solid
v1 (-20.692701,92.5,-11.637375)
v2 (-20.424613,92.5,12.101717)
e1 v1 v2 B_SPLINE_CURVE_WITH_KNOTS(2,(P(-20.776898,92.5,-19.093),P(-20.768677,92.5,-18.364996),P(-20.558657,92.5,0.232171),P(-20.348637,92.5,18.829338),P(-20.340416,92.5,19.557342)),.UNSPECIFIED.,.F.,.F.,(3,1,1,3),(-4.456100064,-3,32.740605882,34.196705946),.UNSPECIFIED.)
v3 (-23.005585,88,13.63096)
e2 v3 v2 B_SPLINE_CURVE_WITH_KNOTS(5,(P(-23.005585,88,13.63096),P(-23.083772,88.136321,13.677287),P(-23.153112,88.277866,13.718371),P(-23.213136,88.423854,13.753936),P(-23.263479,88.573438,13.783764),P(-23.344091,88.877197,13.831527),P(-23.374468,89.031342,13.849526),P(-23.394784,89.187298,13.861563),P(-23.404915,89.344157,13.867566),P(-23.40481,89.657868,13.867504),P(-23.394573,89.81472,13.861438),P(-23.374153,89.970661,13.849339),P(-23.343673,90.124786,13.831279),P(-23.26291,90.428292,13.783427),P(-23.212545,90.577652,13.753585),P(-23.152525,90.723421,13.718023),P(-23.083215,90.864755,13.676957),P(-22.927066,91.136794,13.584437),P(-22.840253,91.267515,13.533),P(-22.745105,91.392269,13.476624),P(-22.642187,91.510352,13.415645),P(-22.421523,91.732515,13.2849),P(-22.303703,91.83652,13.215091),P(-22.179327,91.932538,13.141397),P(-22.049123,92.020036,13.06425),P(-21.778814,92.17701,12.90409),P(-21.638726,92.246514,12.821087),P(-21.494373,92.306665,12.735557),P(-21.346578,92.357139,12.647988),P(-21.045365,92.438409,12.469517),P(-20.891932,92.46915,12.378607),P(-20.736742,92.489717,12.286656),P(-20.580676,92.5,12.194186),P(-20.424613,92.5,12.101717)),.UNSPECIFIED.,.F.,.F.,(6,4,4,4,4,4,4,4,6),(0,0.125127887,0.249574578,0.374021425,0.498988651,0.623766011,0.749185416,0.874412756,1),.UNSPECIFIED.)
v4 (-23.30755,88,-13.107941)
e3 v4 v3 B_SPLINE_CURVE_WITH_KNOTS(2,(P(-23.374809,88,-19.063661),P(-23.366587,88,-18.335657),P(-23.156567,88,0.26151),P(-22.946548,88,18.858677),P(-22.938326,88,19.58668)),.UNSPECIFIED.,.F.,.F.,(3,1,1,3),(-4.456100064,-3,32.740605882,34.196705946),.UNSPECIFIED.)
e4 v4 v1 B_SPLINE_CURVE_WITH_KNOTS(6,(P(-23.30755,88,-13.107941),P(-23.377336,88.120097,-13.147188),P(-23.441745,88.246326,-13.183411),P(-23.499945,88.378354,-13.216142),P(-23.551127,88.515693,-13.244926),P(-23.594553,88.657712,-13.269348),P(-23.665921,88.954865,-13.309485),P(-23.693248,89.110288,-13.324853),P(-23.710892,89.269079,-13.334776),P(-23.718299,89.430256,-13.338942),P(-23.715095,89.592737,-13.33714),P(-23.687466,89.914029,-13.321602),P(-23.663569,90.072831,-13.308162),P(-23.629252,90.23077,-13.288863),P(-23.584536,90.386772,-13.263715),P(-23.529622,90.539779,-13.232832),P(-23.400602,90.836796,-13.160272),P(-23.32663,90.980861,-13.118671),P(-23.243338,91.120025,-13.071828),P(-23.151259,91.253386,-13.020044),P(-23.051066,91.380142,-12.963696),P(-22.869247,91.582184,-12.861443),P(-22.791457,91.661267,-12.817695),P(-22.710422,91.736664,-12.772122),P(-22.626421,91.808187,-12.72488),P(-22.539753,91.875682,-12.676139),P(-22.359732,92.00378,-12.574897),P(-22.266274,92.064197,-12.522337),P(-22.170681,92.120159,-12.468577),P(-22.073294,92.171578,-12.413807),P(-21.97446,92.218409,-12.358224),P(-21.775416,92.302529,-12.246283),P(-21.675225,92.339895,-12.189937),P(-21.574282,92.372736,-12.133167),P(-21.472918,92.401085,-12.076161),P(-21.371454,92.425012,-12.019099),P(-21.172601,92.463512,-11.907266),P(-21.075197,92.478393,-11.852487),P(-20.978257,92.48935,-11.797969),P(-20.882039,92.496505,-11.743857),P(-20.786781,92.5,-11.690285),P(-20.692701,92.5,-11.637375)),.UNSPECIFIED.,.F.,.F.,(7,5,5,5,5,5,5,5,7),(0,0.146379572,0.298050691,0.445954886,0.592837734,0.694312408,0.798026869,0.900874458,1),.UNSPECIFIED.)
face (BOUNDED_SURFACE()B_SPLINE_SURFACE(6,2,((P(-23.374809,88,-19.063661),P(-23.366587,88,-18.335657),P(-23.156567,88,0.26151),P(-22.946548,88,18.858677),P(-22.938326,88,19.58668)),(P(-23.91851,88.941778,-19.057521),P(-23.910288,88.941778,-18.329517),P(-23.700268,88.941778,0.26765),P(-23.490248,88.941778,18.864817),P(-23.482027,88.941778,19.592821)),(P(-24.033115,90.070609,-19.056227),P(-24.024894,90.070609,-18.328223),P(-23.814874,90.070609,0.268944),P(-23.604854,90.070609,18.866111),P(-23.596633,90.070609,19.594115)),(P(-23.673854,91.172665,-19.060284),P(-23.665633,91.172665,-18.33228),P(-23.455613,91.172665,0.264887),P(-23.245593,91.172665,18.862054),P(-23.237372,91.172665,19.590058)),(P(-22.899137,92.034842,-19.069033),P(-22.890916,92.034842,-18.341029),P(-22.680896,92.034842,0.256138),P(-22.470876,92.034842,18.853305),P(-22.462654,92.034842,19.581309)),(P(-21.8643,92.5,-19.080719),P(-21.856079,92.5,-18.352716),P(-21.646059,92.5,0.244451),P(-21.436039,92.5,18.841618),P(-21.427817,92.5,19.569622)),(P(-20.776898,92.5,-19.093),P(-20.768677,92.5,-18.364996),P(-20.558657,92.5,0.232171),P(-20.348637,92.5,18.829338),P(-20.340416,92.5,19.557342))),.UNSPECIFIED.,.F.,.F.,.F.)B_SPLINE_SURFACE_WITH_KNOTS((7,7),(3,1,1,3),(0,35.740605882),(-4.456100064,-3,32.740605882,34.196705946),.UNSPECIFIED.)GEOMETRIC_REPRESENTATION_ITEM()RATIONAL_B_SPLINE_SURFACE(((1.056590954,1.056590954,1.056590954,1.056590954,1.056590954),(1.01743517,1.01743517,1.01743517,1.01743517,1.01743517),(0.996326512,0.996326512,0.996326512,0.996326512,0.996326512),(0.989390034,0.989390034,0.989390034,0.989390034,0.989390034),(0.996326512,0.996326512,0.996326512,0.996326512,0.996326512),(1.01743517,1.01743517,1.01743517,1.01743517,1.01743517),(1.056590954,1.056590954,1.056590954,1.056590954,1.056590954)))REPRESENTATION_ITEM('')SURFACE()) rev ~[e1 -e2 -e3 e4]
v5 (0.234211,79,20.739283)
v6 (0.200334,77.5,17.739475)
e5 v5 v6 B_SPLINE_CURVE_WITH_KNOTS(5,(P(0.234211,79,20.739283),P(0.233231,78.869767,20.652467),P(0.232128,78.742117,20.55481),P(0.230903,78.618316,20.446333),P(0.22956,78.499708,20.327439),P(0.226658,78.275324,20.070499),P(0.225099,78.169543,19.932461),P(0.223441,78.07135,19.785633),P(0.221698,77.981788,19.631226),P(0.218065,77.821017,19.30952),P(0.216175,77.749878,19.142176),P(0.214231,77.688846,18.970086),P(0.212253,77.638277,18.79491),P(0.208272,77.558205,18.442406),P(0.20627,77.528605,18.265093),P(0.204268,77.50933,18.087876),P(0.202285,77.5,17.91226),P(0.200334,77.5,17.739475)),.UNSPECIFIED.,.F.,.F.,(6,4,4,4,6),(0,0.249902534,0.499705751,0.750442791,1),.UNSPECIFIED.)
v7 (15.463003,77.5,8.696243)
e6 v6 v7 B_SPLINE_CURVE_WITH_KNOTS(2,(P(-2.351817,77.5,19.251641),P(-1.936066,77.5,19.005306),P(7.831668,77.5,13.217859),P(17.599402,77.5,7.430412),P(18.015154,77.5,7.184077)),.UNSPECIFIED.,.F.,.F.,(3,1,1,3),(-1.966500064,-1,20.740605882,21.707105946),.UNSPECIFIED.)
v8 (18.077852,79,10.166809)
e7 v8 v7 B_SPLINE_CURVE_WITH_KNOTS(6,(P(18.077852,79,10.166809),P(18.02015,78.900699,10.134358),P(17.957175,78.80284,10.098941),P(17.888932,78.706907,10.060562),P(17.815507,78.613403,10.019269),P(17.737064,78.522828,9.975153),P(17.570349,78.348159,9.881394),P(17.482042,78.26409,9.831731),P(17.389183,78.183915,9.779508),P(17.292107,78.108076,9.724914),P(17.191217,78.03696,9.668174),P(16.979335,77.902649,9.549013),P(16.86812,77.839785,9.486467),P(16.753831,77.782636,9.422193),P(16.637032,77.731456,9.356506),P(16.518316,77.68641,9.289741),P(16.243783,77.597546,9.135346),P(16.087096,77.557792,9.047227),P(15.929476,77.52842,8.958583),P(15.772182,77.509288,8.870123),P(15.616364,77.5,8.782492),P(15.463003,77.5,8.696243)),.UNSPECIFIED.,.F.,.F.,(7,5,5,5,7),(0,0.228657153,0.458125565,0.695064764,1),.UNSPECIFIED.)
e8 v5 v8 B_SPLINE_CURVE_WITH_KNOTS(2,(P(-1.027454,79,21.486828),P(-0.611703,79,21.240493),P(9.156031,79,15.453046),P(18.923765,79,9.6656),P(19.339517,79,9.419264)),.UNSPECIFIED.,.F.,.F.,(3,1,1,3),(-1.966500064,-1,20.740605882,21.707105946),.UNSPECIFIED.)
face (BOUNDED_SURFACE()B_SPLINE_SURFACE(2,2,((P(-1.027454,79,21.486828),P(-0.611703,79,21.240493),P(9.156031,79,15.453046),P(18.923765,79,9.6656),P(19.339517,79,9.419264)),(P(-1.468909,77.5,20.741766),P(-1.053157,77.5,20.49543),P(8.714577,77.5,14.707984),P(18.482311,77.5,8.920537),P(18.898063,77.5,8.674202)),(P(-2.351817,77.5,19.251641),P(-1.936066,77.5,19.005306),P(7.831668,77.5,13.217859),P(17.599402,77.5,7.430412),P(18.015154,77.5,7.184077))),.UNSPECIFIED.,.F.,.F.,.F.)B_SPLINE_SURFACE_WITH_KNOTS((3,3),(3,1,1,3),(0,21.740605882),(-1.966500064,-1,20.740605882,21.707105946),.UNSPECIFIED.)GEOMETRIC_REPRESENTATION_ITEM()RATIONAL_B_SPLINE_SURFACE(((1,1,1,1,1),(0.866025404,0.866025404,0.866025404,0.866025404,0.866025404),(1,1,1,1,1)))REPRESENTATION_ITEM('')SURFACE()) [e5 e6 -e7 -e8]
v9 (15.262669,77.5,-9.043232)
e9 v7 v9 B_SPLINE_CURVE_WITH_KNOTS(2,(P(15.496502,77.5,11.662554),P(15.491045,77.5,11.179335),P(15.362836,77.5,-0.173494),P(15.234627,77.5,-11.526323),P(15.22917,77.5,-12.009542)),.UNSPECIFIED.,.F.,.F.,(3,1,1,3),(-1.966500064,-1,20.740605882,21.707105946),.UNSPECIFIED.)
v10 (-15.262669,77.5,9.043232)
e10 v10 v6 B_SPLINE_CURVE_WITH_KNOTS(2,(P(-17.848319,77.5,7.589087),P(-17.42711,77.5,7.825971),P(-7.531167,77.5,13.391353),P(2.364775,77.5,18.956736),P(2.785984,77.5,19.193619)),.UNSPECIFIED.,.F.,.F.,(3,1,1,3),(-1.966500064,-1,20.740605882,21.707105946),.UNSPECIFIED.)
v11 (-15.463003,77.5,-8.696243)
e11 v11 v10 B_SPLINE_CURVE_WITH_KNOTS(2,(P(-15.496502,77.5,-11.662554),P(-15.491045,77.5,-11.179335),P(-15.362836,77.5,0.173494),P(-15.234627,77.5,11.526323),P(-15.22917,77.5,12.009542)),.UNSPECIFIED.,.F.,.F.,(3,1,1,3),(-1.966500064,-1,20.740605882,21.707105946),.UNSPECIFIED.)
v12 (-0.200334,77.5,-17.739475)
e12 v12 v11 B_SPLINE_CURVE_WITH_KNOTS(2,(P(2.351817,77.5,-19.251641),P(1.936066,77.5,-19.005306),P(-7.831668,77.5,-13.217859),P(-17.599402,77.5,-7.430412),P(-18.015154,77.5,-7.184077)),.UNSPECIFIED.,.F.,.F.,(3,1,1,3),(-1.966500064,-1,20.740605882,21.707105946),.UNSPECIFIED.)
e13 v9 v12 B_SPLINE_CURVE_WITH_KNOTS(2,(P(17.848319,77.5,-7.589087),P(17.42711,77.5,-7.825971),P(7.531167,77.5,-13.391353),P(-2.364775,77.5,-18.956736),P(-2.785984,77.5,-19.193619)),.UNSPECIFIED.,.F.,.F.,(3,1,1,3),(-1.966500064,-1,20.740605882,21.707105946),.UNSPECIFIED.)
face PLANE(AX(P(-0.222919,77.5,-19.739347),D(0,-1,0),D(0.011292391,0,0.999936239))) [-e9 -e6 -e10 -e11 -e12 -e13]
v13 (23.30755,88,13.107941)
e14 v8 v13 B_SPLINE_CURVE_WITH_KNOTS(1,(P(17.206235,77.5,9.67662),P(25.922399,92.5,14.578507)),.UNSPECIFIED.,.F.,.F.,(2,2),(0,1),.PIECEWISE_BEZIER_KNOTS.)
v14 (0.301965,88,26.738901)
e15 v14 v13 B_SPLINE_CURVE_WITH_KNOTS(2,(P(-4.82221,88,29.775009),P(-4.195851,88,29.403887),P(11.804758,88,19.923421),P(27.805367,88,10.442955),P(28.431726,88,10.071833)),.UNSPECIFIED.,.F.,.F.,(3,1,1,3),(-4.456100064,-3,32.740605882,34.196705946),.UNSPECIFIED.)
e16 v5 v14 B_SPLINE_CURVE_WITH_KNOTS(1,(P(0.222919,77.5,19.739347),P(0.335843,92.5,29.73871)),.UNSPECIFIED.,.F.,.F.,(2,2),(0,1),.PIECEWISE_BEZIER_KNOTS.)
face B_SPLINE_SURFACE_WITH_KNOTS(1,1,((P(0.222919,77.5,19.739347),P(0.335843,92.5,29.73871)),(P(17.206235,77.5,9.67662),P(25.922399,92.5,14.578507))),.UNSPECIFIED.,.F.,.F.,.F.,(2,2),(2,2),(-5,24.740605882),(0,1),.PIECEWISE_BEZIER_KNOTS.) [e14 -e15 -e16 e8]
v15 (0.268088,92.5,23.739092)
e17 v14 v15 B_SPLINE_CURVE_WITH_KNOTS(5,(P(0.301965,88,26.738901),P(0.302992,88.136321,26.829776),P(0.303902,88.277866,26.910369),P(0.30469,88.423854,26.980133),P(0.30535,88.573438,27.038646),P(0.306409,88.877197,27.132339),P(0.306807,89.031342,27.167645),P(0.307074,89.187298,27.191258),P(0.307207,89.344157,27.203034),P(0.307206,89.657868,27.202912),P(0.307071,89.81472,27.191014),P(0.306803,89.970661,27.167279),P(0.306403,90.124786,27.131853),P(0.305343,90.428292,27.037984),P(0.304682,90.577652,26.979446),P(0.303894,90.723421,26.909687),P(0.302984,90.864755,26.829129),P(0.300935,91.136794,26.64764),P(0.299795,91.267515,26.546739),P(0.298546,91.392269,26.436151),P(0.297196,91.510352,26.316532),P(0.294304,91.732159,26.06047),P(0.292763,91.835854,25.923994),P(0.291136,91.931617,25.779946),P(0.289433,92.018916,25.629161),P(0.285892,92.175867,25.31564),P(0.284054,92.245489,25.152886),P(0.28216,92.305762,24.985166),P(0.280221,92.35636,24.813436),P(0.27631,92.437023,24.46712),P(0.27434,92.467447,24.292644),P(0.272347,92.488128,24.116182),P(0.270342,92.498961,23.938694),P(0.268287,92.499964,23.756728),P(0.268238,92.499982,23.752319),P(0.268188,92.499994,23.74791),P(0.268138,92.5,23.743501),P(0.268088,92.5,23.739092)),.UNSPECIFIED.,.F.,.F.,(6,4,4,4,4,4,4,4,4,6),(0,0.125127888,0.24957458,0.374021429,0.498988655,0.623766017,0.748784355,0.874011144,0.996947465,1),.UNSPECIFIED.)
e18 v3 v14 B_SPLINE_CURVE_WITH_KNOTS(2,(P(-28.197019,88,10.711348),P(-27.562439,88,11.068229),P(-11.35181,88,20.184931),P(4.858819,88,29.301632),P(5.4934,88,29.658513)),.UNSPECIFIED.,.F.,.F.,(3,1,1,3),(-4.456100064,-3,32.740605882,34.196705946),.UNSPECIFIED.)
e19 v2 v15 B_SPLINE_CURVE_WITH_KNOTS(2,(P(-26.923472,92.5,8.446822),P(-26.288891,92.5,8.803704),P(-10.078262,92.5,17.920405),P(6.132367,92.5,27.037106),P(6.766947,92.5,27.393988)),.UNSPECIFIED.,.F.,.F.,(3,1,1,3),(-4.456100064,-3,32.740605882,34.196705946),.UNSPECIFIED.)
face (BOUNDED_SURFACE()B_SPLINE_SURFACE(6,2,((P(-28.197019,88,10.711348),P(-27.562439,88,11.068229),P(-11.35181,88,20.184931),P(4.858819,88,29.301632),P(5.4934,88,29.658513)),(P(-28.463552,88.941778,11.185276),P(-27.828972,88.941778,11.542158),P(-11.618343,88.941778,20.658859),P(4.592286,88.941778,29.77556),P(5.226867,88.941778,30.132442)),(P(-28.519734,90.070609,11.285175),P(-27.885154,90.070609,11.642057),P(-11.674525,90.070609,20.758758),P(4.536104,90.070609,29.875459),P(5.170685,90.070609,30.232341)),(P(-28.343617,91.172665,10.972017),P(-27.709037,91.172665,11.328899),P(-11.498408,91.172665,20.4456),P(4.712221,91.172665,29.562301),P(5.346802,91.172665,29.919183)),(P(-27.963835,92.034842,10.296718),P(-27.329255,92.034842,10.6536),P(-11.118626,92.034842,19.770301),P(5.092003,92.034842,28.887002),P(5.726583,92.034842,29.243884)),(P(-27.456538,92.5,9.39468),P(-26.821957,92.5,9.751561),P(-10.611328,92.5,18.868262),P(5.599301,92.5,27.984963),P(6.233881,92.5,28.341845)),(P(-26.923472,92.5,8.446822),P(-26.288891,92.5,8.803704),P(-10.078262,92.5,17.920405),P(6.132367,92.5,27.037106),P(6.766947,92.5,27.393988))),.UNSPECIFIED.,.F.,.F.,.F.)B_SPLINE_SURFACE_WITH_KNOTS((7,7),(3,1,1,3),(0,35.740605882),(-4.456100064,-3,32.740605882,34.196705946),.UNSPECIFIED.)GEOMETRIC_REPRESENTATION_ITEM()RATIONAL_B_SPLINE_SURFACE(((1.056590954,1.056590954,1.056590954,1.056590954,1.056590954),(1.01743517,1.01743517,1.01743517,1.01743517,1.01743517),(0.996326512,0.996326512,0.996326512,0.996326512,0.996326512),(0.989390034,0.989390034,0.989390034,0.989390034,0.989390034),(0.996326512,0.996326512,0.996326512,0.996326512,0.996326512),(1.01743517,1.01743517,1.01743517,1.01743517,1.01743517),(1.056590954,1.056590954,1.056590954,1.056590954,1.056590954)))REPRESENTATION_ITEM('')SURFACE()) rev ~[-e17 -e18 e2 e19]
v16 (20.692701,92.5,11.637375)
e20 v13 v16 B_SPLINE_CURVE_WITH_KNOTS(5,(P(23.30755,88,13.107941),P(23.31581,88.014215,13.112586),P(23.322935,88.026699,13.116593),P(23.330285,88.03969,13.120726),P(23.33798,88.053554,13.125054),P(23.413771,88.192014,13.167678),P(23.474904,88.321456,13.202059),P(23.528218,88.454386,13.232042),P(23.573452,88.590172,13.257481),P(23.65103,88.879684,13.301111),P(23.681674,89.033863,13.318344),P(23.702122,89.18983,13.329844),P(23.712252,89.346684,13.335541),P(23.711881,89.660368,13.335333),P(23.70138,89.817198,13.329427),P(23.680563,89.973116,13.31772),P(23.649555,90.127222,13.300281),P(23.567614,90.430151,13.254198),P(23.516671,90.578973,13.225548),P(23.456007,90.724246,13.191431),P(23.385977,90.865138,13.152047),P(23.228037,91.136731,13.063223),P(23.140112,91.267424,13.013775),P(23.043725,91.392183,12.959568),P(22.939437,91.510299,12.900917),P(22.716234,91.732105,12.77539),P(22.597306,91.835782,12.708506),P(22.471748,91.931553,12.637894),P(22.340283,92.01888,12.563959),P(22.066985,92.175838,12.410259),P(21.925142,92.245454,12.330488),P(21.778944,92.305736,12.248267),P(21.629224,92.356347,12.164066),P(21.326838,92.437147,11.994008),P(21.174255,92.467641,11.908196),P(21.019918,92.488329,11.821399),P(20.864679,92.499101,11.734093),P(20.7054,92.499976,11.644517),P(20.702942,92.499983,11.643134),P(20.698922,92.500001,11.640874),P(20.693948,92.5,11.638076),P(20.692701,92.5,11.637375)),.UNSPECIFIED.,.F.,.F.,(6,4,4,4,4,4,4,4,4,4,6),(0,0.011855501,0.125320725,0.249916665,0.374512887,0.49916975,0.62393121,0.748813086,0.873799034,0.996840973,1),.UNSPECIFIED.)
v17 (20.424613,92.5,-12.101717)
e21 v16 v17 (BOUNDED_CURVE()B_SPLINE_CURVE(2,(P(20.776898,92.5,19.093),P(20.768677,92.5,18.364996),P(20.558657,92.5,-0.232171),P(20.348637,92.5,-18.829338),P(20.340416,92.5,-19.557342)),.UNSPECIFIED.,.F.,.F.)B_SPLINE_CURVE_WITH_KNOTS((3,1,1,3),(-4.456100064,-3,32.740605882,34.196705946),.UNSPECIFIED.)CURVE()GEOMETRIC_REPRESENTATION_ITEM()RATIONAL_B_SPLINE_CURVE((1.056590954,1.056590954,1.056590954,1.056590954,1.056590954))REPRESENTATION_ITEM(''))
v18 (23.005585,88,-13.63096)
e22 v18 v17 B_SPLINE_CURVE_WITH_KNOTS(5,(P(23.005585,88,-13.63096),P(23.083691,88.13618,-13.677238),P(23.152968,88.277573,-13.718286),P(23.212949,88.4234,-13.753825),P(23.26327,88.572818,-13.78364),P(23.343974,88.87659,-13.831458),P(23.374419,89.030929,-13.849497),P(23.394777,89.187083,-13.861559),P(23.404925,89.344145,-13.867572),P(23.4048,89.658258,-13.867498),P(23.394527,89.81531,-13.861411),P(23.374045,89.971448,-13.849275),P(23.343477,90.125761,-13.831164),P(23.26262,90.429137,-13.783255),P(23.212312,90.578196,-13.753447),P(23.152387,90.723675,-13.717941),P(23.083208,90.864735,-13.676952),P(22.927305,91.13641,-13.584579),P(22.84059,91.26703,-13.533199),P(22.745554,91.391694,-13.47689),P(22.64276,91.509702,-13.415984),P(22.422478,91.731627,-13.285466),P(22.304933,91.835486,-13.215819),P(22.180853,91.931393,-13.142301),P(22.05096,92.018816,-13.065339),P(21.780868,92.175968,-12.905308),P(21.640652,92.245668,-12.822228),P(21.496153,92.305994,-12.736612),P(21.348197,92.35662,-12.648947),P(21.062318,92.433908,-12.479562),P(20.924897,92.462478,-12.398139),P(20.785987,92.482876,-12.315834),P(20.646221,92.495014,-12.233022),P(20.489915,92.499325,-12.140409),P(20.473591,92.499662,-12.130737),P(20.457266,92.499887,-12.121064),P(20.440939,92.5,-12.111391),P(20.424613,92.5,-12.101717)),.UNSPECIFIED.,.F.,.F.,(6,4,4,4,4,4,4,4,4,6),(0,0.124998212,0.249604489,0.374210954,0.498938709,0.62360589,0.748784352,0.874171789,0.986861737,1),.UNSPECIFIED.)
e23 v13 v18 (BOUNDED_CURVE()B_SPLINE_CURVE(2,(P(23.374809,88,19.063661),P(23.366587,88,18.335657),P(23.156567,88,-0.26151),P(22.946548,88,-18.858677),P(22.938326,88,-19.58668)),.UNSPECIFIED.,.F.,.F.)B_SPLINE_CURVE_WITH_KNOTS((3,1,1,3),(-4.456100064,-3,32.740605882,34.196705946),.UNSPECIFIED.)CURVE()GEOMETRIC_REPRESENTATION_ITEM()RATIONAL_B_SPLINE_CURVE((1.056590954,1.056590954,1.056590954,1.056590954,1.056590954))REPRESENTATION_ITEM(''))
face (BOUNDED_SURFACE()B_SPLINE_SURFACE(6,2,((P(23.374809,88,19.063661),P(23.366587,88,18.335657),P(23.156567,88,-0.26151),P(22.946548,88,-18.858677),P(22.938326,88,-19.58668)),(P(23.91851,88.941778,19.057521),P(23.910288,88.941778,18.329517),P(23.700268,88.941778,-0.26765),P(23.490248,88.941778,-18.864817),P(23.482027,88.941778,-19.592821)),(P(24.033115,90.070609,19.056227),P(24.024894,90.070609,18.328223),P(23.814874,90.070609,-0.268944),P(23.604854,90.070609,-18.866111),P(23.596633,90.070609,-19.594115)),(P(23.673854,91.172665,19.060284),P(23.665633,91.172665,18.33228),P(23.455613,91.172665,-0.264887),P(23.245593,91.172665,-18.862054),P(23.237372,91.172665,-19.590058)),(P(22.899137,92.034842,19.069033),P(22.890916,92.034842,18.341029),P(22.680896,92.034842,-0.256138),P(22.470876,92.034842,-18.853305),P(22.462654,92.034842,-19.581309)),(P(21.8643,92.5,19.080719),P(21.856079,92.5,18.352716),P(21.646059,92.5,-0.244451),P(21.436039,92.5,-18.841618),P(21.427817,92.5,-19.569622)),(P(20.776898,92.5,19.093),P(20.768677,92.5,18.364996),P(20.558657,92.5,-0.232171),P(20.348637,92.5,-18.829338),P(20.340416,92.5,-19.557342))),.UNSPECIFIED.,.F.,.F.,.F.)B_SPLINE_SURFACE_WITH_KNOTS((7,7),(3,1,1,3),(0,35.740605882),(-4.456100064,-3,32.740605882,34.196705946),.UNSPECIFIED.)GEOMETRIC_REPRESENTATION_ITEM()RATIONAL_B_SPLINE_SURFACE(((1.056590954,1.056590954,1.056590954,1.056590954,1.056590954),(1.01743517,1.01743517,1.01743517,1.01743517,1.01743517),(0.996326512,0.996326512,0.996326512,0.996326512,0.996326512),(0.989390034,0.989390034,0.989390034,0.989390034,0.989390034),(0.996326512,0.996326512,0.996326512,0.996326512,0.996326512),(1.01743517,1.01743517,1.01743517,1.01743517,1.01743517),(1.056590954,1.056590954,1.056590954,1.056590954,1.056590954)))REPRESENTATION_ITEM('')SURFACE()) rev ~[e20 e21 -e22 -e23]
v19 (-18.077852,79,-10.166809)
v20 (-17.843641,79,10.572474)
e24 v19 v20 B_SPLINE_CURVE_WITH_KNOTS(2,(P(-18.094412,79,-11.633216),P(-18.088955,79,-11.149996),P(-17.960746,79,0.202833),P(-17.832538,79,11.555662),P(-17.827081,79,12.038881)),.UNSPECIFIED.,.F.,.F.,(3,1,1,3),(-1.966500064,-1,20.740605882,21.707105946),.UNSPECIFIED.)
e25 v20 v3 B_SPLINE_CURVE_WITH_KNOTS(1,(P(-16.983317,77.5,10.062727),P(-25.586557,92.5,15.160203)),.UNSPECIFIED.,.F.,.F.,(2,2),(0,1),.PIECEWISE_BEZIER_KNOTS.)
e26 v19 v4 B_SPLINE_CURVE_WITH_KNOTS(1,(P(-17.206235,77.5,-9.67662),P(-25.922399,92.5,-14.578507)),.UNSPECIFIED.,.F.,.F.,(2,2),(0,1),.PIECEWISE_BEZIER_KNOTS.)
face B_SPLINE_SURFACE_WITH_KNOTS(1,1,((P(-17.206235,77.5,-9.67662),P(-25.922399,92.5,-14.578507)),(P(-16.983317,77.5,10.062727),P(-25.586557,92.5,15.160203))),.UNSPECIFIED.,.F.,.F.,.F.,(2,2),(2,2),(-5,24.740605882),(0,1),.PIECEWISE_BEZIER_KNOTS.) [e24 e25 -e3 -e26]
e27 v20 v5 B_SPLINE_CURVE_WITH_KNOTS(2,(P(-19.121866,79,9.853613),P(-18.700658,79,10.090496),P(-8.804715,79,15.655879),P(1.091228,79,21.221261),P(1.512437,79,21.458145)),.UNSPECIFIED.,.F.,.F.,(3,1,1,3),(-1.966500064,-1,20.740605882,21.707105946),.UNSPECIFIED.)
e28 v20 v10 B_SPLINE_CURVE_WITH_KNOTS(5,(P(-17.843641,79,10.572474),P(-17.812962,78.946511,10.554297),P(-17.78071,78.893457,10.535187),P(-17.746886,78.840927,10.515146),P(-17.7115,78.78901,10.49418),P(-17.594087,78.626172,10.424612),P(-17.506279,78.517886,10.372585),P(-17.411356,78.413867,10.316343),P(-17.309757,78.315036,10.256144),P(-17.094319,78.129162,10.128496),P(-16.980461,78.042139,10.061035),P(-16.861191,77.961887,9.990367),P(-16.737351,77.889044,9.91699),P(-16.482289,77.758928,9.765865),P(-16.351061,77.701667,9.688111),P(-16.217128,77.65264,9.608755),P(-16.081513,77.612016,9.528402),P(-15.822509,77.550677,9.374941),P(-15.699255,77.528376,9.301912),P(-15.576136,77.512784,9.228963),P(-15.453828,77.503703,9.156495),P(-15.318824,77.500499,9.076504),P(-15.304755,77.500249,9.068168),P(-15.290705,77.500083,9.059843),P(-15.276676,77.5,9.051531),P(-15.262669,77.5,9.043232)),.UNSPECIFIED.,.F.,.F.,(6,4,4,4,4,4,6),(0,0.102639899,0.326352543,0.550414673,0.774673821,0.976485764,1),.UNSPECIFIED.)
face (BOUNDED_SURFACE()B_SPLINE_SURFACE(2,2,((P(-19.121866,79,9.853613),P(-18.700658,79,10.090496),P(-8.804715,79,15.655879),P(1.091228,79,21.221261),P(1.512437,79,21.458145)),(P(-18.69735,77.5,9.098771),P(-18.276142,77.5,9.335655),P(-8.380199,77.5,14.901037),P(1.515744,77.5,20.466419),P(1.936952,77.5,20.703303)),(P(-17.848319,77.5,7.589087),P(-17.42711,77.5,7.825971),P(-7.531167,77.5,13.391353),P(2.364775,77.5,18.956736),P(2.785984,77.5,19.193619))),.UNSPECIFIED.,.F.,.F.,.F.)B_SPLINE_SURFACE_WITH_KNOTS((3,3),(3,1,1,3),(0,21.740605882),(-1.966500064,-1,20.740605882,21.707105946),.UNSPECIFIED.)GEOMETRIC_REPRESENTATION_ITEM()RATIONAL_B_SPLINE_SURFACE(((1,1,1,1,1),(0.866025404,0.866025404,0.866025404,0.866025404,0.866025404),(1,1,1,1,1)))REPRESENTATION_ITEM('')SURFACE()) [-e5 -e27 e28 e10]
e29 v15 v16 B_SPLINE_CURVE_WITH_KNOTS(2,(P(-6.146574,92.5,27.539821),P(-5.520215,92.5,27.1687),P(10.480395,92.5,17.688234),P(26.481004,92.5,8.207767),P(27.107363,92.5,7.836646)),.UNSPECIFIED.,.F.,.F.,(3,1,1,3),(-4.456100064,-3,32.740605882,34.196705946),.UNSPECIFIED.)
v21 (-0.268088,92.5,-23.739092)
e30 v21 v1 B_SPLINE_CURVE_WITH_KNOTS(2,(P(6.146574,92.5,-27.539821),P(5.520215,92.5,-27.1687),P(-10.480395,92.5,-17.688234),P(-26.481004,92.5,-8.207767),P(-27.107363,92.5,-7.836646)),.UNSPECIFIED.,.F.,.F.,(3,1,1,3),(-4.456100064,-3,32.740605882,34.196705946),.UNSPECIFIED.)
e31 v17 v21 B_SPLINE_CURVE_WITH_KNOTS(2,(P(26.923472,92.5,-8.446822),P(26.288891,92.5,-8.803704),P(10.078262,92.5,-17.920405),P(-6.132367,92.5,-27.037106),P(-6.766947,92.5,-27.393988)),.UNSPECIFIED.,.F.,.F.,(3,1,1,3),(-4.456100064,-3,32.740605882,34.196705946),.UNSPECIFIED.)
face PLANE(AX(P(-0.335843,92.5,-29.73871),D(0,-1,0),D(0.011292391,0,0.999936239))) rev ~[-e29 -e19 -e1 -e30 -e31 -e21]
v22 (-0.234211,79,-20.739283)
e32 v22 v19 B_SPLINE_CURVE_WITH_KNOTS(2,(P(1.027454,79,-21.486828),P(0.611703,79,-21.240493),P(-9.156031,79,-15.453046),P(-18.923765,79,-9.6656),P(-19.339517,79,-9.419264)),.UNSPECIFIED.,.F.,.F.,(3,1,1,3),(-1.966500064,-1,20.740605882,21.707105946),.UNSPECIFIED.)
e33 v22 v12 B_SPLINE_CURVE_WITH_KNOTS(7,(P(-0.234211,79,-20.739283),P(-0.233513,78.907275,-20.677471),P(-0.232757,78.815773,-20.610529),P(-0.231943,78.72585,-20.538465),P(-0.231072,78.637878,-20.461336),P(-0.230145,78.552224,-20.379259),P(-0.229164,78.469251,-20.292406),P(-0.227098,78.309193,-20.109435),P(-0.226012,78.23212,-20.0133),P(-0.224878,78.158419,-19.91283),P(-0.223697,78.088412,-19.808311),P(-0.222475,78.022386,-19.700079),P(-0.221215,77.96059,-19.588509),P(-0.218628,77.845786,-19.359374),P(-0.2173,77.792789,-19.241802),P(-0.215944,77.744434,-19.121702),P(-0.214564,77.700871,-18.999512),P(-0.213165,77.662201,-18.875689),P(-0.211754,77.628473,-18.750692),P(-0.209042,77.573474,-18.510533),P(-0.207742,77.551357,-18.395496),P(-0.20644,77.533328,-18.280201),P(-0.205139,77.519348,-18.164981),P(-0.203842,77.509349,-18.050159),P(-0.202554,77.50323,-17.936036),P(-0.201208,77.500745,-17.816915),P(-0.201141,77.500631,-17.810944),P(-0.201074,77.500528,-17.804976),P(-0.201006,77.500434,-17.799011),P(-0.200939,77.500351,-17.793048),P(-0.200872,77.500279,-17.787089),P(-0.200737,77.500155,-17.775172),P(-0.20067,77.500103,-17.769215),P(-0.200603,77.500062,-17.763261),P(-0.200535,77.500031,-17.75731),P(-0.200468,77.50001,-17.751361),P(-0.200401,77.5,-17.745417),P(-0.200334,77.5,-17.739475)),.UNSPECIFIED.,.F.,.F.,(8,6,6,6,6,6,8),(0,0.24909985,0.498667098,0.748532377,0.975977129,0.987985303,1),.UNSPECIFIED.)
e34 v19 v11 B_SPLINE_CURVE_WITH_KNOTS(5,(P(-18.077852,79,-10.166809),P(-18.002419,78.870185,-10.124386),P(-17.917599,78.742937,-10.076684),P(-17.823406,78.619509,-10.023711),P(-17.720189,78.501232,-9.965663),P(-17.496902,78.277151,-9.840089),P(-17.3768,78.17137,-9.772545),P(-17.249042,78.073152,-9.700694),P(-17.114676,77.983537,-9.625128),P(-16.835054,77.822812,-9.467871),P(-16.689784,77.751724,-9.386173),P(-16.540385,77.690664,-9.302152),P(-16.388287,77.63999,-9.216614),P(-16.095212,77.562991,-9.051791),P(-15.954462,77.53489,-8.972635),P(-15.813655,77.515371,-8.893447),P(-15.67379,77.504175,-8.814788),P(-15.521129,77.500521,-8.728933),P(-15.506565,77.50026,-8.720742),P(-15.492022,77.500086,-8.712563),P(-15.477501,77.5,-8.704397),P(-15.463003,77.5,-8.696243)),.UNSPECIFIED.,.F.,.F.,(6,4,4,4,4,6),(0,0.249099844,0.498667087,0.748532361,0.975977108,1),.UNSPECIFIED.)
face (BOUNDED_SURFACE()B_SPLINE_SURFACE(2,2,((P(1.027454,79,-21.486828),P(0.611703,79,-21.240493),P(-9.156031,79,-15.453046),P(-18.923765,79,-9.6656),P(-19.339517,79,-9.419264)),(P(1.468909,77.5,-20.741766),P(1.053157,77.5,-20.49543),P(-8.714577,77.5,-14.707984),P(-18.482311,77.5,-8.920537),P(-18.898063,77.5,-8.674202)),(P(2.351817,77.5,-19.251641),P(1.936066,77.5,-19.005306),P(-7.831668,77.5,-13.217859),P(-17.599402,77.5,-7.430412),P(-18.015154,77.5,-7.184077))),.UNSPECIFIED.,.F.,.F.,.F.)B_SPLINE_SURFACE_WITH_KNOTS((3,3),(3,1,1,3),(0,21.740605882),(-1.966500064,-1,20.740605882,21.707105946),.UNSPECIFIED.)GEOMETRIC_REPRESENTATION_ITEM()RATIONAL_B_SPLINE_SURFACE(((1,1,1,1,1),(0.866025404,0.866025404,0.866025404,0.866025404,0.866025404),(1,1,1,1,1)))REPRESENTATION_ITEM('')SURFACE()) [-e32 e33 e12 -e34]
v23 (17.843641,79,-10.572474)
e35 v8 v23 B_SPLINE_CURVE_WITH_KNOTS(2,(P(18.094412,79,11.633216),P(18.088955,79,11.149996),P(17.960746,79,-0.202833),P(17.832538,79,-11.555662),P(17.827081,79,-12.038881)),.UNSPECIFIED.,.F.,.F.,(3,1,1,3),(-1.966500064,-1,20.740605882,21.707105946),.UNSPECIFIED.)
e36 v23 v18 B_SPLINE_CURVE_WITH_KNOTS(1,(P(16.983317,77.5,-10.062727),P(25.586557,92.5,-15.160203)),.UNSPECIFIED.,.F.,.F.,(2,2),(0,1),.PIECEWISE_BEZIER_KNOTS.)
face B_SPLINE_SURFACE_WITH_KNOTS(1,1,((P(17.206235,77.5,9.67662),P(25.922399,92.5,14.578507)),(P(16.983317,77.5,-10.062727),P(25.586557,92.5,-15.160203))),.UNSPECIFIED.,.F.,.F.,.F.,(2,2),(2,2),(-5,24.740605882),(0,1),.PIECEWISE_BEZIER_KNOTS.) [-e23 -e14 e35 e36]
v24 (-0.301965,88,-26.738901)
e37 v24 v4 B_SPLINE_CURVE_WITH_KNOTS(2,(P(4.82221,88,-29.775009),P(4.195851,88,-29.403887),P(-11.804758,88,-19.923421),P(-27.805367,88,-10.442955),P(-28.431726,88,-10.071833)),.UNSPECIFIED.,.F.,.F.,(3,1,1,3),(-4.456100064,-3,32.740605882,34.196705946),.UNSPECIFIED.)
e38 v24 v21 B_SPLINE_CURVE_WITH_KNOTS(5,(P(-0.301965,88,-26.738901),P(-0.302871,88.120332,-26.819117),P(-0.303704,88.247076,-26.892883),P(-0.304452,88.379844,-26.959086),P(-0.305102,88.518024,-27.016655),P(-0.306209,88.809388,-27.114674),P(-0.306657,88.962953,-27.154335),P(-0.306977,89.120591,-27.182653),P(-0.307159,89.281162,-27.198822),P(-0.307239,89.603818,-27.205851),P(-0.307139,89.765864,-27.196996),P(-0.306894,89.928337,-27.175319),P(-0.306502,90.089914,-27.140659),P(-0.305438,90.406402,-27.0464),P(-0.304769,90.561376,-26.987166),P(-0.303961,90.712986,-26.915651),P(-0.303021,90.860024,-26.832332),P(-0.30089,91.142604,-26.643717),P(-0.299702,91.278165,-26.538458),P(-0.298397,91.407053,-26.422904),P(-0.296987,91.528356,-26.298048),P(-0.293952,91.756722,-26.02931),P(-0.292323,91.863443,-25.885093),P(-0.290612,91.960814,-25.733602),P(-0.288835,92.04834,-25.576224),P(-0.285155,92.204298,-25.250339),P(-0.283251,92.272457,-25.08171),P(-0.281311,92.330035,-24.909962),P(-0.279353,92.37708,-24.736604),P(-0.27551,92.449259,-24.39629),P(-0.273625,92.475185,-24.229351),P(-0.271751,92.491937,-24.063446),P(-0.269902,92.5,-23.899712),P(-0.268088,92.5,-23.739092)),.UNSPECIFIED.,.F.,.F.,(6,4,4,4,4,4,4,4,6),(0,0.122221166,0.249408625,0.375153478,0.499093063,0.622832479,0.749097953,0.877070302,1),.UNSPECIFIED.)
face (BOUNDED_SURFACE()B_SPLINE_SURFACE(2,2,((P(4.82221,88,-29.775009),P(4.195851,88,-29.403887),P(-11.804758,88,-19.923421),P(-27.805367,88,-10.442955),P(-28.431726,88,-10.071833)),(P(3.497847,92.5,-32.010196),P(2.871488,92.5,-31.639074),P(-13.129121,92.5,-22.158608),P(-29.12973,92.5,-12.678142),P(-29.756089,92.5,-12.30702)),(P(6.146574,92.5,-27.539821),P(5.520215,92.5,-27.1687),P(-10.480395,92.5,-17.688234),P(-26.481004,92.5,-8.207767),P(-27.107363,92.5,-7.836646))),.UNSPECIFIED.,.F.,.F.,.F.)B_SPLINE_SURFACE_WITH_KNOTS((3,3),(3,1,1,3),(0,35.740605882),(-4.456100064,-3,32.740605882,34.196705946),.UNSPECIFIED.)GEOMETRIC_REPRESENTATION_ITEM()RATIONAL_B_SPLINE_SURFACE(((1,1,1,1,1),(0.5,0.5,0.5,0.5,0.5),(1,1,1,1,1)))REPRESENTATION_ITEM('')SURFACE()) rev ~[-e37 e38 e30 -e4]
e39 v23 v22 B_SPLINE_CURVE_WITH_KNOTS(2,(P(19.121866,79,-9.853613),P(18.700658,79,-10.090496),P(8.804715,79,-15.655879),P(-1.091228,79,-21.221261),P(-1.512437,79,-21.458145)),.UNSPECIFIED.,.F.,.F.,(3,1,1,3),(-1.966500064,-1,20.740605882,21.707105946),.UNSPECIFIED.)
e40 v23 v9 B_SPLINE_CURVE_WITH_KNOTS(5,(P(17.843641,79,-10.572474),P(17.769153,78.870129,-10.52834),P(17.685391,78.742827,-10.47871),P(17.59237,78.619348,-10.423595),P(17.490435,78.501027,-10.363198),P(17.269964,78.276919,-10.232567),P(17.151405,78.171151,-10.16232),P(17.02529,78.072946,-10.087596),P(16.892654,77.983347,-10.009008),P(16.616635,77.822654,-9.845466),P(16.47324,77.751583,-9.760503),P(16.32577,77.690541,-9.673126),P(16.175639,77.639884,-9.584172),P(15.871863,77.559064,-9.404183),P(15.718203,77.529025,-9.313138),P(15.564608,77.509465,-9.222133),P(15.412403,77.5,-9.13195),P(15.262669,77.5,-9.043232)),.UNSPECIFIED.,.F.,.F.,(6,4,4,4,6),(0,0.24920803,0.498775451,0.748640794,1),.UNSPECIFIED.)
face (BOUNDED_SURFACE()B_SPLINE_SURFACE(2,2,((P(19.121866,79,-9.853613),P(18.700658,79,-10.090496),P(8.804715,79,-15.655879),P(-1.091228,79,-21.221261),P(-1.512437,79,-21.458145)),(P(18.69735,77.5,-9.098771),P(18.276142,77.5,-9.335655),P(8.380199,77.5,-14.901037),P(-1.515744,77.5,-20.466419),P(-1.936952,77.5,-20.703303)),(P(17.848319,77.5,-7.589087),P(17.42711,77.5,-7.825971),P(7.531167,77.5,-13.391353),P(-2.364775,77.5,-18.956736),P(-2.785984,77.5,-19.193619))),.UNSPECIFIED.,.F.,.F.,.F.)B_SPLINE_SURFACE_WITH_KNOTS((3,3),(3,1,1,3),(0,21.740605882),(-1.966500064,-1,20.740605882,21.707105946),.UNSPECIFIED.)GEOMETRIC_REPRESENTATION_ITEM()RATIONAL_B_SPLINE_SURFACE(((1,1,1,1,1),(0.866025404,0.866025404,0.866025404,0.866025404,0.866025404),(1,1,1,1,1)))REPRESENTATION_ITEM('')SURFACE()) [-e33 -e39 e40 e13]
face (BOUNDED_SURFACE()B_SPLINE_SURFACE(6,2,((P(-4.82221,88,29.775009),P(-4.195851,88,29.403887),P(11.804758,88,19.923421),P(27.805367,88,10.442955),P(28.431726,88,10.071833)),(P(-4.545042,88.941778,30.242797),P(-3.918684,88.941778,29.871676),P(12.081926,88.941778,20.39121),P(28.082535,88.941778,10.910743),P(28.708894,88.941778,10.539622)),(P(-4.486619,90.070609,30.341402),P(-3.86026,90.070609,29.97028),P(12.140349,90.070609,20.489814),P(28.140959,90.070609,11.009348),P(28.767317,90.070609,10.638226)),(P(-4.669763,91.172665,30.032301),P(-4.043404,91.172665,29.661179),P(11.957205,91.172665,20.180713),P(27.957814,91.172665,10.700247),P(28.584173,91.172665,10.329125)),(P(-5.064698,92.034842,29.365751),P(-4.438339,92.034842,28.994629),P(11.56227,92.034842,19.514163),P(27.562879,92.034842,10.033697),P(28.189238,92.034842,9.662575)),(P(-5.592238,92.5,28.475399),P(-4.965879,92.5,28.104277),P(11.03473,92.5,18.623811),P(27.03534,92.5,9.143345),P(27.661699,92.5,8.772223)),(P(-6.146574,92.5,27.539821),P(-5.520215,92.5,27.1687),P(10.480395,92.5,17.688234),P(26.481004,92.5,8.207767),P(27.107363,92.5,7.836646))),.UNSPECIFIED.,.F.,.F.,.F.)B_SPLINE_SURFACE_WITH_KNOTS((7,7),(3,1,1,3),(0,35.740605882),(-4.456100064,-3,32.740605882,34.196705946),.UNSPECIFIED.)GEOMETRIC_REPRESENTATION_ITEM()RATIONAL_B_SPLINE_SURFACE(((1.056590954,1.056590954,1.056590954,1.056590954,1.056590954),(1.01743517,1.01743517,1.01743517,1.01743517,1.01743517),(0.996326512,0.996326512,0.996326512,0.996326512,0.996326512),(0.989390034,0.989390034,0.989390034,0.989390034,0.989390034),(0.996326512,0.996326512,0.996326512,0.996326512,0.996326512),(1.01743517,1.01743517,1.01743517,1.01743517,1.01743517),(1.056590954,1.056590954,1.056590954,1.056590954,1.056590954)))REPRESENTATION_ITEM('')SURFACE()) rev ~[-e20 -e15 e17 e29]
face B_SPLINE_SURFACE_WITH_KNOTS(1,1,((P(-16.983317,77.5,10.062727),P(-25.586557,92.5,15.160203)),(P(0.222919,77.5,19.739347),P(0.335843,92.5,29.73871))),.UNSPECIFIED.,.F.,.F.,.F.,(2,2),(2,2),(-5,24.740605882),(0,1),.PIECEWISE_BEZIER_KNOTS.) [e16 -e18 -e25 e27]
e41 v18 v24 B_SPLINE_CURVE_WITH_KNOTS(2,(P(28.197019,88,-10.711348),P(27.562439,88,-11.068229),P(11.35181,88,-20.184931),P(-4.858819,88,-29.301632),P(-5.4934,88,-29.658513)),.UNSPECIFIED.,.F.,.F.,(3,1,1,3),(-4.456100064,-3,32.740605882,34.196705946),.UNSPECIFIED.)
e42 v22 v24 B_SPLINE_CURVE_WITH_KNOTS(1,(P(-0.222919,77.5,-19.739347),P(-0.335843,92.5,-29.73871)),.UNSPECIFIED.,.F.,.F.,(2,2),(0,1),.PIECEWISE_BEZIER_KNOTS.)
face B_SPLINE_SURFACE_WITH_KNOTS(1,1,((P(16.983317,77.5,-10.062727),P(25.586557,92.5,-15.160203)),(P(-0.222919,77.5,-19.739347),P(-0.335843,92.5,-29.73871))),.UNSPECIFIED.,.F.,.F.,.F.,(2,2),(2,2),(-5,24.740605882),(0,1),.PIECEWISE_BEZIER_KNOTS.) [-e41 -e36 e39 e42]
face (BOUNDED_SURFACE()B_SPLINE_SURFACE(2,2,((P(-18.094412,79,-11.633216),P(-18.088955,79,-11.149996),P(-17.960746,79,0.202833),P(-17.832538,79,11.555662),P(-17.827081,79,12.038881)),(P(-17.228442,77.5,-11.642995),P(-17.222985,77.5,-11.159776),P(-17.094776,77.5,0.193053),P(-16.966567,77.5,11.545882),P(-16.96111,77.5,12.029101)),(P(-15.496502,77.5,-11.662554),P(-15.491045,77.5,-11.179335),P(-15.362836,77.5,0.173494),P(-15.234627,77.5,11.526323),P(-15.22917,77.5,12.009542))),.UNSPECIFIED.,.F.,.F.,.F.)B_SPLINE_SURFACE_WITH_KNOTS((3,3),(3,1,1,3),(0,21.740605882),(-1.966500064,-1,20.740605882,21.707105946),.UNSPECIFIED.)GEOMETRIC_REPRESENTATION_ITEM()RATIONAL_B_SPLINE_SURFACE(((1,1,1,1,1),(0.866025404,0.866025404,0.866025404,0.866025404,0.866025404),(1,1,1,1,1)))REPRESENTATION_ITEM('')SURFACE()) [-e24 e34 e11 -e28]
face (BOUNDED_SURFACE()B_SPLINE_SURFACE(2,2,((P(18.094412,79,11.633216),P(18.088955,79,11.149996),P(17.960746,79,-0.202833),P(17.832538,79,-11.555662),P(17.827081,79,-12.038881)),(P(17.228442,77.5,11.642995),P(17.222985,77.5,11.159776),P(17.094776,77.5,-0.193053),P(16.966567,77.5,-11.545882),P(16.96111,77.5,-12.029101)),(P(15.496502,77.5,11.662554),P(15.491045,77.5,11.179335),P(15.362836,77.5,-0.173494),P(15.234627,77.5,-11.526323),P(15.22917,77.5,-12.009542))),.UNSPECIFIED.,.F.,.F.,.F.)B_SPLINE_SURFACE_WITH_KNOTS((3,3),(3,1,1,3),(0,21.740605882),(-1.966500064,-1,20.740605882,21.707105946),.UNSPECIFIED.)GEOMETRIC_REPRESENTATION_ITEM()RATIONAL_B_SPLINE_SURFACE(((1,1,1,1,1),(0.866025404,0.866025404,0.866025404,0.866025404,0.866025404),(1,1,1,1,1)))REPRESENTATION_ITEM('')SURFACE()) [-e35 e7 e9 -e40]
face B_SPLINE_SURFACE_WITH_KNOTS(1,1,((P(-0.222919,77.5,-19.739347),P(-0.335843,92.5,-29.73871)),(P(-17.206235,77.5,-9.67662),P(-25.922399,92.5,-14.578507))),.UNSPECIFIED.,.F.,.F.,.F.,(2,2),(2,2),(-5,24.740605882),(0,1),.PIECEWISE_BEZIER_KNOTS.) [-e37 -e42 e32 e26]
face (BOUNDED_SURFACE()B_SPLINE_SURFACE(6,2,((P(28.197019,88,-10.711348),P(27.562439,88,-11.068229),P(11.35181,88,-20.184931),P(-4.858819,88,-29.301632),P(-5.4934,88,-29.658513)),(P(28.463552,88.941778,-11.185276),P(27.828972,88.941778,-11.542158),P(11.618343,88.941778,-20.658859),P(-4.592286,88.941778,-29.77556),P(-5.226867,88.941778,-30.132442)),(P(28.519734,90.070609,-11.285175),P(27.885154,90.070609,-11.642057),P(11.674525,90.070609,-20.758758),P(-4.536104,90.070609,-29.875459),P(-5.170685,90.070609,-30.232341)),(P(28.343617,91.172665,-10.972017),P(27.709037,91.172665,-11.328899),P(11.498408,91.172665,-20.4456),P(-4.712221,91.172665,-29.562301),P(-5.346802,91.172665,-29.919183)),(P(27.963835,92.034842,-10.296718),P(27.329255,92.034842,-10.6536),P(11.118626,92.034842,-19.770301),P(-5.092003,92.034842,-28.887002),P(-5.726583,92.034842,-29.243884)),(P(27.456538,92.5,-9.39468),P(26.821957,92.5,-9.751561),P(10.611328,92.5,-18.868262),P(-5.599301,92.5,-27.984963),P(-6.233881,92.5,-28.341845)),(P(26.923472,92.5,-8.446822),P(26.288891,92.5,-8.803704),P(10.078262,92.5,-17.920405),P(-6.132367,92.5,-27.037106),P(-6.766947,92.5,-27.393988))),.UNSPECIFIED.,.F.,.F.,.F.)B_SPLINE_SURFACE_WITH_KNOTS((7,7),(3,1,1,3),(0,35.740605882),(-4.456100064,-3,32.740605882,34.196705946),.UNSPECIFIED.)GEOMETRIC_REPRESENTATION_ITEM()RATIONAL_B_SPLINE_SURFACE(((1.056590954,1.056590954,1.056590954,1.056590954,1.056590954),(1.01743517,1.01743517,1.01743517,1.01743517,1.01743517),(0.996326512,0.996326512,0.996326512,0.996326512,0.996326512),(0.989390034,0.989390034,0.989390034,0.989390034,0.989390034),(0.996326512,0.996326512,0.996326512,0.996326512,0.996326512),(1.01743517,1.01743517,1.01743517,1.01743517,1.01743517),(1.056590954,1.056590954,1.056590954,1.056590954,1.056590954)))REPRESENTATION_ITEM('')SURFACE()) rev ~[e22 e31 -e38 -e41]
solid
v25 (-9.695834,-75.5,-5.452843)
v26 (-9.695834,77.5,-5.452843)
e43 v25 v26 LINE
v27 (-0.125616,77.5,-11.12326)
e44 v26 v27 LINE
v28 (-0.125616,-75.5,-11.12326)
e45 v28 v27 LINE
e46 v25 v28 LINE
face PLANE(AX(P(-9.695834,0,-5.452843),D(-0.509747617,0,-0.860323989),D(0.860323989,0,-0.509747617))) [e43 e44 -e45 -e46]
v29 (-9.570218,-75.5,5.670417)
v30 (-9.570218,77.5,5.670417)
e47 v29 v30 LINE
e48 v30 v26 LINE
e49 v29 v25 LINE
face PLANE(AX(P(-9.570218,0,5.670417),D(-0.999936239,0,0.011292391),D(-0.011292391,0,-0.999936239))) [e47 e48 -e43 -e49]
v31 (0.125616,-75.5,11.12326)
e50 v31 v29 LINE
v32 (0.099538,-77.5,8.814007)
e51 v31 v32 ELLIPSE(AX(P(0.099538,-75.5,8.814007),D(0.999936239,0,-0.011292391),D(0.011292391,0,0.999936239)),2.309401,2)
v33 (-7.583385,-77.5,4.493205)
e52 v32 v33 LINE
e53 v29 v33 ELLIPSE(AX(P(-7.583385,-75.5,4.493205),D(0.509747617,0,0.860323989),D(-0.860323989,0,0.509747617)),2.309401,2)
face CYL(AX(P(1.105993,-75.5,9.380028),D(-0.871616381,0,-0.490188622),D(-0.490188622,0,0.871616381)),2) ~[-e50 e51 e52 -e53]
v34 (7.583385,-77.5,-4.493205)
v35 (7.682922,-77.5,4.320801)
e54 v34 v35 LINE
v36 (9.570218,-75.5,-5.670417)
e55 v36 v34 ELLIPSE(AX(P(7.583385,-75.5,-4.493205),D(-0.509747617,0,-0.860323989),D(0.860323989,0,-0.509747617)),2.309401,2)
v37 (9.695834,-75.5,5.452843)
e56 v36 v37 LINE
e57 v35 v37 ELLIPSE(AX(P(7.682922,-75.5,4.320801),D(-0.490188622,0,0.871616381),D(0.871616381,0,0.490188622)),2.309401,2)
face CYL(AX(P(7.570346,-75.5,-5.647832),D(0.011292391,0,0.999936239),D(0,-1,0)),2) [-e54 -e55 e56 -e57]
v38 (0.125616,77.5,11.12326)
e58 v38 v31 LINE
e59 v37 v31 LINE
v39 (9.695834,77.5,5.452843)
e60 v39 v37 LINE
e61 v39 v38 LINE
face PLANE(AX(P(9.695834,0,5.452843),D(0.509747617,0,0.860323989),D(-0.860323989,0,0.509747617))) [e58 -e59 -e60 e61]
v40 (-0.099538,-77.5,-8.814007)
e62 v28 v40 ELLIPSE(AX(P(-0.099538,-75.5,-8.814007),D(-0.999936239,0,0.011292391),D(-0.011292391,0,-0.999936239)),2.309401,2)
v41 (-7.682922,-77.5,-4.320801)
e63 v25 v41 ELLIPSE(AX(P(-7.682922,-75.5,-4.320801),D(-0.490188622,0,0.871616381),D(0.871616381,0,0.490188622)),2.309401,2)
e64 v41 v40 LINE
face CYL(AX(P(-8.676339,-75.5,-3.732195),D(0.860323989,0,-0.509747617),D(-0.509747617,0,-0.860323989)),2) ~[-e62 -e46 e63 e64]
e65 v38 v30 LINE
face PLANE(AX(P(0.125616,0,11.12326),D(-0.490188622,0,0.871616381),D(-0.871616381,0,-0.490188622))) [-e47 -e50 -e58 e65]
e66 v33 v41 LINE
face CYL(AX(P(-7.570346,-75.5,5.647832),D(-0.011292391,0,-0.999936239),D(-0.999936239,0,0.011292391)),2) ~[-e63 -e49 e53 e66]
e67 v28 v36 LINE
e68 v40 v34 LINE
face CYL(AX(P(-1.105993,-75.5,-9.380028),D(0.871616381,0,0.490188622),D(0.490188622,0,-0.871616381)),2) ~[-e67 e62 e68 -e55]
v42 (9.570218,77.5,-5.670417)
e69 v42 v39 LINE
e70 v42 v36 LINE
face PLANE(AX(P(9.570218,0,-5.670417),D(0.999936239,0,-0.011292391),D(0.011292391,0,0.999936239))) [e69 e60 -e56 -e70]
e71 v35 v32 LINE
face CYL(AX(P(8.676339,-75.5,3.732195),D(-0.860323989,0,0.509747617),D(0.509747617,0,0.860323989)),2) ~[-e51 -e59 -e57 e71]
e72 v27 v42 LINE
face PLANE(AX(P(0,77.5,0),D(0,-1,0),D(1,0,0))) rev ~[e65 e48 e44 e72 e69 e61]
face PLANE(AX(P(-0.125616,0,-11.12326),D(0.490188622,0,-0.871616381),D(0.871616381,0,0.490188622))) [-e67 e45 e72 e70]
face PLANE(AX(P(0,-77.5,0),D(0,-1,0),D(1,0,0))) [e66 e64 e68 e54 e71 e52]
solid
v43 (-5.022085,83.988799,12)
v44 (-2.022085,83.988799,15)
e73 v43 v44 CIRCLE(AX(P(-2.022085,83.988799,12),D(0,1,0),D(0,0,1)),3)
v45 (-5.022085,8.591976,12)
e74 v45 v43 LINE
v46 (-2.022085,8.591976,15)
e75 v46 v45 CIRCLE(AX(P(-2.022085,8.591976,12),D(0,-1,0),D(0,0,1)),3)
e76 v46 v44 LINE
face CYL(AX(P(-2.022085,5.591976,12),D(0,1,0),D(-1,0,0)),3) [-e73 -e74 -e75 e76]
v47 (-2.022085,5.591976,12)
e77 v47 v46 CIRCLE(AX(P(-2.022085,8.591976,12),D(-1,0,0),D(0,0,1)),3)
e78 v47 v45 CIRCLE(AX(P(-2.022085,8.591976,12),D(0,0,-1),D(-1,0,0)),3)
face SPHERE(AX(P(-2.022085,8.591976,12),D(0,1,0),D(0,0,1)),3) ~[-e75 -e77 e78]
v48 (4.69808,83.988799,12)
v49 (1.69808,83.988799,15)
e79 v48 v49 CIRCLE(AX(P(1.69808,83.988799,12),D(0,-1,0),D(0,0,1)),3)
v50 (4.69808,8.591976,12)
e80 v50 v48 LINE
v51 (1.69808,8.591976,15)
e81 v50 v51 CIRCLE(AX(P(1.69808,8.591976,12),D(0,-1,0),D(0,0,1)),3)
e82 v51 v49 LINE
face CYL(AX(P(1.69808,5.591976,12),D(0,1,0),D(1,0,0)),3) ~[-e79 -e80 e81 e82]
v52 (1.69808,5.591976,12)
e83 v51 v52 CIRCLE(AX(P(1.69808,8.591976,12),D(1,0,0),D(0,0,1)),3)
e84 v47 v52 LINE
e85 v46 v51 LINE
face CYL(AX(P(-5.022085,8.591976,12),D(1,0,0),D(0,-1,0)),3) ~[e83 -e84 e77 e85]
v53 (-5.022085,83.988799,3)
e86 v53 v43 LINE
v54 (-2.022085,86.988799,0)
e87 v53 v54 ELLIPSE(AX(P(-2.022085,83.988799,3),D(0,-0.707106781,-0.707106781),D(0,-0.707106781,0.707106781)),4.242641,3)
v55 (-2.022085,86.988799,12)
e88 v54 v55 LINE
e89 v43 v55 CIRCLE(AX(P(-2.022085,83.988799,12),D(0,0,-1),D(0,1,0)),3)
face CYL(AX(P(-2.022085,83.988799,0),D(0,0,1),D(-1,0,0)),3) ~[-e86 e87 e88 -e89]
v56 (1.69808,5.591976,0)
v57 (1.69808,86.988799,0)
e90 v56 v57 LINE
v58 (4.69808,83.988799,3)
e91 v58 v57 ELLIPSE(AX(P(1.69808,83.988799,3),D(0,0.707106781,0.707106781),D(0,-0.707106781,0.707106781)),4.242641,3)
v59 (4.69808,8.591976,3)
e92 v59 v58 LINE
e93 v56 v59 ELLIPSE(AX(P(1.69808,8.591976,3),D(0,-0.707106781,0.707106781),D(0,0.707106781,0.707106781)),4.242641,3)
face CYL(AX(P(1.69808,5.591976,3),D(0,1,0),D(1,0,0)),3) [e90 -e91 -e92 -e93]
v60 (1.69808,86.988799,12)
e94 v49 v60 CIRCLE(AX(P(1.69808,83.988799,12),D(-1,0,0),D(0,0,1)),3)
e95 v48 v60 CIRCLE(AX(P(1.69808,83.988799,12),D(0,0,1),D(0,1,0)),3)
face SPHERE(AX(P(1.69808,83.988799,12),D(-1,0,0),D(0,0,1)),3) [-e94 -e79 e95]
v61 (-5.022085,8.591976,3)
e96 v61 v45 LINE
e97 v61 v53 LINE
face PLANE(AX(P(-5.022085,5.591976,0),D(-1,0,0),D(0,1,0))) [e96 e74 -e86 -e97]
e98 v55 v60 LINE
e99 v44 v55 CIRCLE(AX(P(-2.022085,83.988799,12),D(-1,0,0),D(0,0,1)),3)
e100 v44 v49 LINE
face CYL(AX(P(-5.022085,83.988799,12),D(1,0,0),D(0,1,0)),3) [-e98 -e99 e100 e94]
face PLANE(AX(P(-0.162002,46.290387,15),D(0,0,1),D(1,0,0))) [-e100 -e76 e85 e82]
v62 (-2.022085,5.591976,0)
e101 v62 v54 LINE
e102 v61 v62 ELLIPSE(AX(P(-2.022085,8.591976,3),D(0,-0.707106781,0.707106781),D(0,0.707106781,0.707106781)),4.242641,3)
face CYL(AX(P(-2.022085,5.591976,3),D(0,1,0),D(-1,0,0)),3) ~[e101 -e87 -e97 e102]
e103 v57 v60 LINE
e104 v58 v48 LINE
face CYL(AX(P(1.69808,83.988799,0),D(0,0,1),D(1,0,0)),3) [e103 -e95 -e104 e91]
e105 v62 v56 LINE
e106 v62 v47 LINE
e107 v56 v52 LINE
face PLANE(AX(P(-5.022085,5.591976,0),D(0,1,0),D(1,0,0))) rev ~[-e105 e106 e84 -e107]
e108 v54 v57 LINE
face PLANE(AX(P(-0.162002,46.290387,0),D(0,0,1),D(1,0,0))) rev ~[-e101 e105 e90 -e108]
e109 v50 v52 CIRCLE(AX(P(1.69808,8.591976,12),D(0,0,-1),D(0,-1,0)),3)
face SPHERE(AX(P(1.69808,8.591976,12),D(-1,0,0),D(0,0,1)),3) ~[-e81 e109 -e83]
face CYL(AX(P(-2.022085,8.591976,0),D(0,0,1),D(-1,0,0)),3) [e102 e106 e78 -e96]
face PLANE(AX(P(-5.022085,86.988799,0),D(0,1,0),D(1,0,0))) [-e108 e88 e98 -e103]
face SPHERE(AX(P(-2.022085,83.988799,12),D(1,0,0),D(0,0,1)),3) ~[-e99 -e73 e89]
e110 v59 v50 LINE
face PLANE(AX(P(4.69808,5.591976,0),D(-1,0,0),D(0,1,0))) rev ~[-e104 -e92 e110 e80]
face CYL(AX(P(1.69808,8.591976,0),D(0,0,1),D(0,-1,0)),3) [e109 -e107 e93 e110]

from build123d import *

# Parameters (mm, degrees)
F1_DEPTH = 77.5
F3_DEPTH = 15
F3_TAPER = -30
F4_W     = 9.7201652825
F4_H     = 81.3968237489
F5_DEPTH = 15
F6_R     = 3
F6_2_R   = 3
F7_R     = 2


with BuildPart() as f1:
    # F0 (on Front) → F1 (new body, symmetric)
    with BuildSketch(Plane.XZ):
        Polygon((-0.1256162198, -11.1232604972), (9.5702180536, -5.6704170861), (9.6958342734, 5.4528434111), (0.1256162198, 11.1232604972), (-9.5702180536, 5.6704170861), (-9.6958342734, -5.4528434111), align=None)
    extrude(amount=F1_DEPTH, both=True)

    # F7
    f7_edges = [f1.edges().sort_by_distance(p)[0] for p in [
        (-4.910725, -77.5, -8.288052),
        (4.722301, -77.5, -8.396839),
        (9.633026, -77.5, -0.108787),
        (4.910725, -77.5, 8.288052),
        (-4.722301, -77.5, 8.396839),
        (-9.633026, -77.5, 0.108787),
    ]]
    fillet(f7_edges, radius=F7_R)


with BuildPart() as f3:
    # F2 (on face) → F3 (new body)
    with BuildSketch(Plane(origin=(0, 77.5, 0), x_dir=(-1, 0, 0), z_dir=(0, 1, 0))):
        Polygon((0.2229186467, -19.7393472), (17.2062354526, -9.676620389), (16.983316806, 10.062726811), (-0.2229186467, 19.7393472), (-17.2062354526, 9.676620389), (-16.983316806, -10.062726811), align=None)
        Polygon((9.6958342734, -5.4528434111), (0.1256162198, -11.1232604972), (-9.5702180536, -5.6704170861), (-9.6958342734, 5.4528434111), (-0.1256162198, 11.1232604972), (9.5702180536, 5.6704170861), align=None, mode=Mode.SUBTRACT)
        Polygon((-9.5702180536, -5.6704170861), (0.1256162198, -11.1232604972), (9.6958342734, -5.4528434111), (9.5702180536, 5.6704170861), (-0.1256162198, 11.1232604972), (-9.6958342734, 5.4528434111), align=None)
    extrude(amount=F3_DEPTH, taper=F3_TAPER)

    # F6#2
    f6_2_edges = [f3.edges().sort_by_distance(p)[0] for p in [
        (12.625357, 92.5, -22.449456),
        (-13.129121, 92.5, -22.158608),
        (-25.754478, 92.5, 0.290848),
        (-12.625357, 92.5, 22.449456),
        (13.129121, 92.5, 22.158608),
        (25.754478, 92.5, -0.290848),
        (8.380199, 77.5, -14.901037),
        (-8.714577, 77.5, -14.707984),
        (-17.094776, 77.5, 0.193053),
        (-8.380199, 77.5, 14.901037),
        (8.714577, 77.5, 14.707984),
        (17.094776, 77.5, -0.193053),
    ]]
    fillet(f6_2_edges, radius=F6_2_R)


with BuildPart() as f5:
    # F4 (on Top) → F5 (new body)
    with BuildSketch(Plane.XY):
        with Locations((-0.1620021649, 46.2903873995)):
            Rectangle(F4_W, F4_H)
    extrude(amount=F5_DEPTH)

    # F6
    f6_edges = [f5.edges().sort_by_distance(p)[0] for p in [
        (-0.162002, 86.988799, 15),
        (-5.022085, 46.290387, 15),
        (-0.162002, 5.591976, 15),
        (4.69808, 46.290387, 15),
        (4.69808, 5.591976, 7.5),
        (4.69808, 86.988799, 7.5),
        (4.69808, 46.290387, 0),
        (-5.022085, 86.988799, 7.5),
        (-5.022085, 5.591976, 7.5),
        (-5.022085, 46.290387, 0),
    ]]
    fillet(f6_edges, radius=F6_R)


solid = Compound([f1.part, f3.part, f5.part])
